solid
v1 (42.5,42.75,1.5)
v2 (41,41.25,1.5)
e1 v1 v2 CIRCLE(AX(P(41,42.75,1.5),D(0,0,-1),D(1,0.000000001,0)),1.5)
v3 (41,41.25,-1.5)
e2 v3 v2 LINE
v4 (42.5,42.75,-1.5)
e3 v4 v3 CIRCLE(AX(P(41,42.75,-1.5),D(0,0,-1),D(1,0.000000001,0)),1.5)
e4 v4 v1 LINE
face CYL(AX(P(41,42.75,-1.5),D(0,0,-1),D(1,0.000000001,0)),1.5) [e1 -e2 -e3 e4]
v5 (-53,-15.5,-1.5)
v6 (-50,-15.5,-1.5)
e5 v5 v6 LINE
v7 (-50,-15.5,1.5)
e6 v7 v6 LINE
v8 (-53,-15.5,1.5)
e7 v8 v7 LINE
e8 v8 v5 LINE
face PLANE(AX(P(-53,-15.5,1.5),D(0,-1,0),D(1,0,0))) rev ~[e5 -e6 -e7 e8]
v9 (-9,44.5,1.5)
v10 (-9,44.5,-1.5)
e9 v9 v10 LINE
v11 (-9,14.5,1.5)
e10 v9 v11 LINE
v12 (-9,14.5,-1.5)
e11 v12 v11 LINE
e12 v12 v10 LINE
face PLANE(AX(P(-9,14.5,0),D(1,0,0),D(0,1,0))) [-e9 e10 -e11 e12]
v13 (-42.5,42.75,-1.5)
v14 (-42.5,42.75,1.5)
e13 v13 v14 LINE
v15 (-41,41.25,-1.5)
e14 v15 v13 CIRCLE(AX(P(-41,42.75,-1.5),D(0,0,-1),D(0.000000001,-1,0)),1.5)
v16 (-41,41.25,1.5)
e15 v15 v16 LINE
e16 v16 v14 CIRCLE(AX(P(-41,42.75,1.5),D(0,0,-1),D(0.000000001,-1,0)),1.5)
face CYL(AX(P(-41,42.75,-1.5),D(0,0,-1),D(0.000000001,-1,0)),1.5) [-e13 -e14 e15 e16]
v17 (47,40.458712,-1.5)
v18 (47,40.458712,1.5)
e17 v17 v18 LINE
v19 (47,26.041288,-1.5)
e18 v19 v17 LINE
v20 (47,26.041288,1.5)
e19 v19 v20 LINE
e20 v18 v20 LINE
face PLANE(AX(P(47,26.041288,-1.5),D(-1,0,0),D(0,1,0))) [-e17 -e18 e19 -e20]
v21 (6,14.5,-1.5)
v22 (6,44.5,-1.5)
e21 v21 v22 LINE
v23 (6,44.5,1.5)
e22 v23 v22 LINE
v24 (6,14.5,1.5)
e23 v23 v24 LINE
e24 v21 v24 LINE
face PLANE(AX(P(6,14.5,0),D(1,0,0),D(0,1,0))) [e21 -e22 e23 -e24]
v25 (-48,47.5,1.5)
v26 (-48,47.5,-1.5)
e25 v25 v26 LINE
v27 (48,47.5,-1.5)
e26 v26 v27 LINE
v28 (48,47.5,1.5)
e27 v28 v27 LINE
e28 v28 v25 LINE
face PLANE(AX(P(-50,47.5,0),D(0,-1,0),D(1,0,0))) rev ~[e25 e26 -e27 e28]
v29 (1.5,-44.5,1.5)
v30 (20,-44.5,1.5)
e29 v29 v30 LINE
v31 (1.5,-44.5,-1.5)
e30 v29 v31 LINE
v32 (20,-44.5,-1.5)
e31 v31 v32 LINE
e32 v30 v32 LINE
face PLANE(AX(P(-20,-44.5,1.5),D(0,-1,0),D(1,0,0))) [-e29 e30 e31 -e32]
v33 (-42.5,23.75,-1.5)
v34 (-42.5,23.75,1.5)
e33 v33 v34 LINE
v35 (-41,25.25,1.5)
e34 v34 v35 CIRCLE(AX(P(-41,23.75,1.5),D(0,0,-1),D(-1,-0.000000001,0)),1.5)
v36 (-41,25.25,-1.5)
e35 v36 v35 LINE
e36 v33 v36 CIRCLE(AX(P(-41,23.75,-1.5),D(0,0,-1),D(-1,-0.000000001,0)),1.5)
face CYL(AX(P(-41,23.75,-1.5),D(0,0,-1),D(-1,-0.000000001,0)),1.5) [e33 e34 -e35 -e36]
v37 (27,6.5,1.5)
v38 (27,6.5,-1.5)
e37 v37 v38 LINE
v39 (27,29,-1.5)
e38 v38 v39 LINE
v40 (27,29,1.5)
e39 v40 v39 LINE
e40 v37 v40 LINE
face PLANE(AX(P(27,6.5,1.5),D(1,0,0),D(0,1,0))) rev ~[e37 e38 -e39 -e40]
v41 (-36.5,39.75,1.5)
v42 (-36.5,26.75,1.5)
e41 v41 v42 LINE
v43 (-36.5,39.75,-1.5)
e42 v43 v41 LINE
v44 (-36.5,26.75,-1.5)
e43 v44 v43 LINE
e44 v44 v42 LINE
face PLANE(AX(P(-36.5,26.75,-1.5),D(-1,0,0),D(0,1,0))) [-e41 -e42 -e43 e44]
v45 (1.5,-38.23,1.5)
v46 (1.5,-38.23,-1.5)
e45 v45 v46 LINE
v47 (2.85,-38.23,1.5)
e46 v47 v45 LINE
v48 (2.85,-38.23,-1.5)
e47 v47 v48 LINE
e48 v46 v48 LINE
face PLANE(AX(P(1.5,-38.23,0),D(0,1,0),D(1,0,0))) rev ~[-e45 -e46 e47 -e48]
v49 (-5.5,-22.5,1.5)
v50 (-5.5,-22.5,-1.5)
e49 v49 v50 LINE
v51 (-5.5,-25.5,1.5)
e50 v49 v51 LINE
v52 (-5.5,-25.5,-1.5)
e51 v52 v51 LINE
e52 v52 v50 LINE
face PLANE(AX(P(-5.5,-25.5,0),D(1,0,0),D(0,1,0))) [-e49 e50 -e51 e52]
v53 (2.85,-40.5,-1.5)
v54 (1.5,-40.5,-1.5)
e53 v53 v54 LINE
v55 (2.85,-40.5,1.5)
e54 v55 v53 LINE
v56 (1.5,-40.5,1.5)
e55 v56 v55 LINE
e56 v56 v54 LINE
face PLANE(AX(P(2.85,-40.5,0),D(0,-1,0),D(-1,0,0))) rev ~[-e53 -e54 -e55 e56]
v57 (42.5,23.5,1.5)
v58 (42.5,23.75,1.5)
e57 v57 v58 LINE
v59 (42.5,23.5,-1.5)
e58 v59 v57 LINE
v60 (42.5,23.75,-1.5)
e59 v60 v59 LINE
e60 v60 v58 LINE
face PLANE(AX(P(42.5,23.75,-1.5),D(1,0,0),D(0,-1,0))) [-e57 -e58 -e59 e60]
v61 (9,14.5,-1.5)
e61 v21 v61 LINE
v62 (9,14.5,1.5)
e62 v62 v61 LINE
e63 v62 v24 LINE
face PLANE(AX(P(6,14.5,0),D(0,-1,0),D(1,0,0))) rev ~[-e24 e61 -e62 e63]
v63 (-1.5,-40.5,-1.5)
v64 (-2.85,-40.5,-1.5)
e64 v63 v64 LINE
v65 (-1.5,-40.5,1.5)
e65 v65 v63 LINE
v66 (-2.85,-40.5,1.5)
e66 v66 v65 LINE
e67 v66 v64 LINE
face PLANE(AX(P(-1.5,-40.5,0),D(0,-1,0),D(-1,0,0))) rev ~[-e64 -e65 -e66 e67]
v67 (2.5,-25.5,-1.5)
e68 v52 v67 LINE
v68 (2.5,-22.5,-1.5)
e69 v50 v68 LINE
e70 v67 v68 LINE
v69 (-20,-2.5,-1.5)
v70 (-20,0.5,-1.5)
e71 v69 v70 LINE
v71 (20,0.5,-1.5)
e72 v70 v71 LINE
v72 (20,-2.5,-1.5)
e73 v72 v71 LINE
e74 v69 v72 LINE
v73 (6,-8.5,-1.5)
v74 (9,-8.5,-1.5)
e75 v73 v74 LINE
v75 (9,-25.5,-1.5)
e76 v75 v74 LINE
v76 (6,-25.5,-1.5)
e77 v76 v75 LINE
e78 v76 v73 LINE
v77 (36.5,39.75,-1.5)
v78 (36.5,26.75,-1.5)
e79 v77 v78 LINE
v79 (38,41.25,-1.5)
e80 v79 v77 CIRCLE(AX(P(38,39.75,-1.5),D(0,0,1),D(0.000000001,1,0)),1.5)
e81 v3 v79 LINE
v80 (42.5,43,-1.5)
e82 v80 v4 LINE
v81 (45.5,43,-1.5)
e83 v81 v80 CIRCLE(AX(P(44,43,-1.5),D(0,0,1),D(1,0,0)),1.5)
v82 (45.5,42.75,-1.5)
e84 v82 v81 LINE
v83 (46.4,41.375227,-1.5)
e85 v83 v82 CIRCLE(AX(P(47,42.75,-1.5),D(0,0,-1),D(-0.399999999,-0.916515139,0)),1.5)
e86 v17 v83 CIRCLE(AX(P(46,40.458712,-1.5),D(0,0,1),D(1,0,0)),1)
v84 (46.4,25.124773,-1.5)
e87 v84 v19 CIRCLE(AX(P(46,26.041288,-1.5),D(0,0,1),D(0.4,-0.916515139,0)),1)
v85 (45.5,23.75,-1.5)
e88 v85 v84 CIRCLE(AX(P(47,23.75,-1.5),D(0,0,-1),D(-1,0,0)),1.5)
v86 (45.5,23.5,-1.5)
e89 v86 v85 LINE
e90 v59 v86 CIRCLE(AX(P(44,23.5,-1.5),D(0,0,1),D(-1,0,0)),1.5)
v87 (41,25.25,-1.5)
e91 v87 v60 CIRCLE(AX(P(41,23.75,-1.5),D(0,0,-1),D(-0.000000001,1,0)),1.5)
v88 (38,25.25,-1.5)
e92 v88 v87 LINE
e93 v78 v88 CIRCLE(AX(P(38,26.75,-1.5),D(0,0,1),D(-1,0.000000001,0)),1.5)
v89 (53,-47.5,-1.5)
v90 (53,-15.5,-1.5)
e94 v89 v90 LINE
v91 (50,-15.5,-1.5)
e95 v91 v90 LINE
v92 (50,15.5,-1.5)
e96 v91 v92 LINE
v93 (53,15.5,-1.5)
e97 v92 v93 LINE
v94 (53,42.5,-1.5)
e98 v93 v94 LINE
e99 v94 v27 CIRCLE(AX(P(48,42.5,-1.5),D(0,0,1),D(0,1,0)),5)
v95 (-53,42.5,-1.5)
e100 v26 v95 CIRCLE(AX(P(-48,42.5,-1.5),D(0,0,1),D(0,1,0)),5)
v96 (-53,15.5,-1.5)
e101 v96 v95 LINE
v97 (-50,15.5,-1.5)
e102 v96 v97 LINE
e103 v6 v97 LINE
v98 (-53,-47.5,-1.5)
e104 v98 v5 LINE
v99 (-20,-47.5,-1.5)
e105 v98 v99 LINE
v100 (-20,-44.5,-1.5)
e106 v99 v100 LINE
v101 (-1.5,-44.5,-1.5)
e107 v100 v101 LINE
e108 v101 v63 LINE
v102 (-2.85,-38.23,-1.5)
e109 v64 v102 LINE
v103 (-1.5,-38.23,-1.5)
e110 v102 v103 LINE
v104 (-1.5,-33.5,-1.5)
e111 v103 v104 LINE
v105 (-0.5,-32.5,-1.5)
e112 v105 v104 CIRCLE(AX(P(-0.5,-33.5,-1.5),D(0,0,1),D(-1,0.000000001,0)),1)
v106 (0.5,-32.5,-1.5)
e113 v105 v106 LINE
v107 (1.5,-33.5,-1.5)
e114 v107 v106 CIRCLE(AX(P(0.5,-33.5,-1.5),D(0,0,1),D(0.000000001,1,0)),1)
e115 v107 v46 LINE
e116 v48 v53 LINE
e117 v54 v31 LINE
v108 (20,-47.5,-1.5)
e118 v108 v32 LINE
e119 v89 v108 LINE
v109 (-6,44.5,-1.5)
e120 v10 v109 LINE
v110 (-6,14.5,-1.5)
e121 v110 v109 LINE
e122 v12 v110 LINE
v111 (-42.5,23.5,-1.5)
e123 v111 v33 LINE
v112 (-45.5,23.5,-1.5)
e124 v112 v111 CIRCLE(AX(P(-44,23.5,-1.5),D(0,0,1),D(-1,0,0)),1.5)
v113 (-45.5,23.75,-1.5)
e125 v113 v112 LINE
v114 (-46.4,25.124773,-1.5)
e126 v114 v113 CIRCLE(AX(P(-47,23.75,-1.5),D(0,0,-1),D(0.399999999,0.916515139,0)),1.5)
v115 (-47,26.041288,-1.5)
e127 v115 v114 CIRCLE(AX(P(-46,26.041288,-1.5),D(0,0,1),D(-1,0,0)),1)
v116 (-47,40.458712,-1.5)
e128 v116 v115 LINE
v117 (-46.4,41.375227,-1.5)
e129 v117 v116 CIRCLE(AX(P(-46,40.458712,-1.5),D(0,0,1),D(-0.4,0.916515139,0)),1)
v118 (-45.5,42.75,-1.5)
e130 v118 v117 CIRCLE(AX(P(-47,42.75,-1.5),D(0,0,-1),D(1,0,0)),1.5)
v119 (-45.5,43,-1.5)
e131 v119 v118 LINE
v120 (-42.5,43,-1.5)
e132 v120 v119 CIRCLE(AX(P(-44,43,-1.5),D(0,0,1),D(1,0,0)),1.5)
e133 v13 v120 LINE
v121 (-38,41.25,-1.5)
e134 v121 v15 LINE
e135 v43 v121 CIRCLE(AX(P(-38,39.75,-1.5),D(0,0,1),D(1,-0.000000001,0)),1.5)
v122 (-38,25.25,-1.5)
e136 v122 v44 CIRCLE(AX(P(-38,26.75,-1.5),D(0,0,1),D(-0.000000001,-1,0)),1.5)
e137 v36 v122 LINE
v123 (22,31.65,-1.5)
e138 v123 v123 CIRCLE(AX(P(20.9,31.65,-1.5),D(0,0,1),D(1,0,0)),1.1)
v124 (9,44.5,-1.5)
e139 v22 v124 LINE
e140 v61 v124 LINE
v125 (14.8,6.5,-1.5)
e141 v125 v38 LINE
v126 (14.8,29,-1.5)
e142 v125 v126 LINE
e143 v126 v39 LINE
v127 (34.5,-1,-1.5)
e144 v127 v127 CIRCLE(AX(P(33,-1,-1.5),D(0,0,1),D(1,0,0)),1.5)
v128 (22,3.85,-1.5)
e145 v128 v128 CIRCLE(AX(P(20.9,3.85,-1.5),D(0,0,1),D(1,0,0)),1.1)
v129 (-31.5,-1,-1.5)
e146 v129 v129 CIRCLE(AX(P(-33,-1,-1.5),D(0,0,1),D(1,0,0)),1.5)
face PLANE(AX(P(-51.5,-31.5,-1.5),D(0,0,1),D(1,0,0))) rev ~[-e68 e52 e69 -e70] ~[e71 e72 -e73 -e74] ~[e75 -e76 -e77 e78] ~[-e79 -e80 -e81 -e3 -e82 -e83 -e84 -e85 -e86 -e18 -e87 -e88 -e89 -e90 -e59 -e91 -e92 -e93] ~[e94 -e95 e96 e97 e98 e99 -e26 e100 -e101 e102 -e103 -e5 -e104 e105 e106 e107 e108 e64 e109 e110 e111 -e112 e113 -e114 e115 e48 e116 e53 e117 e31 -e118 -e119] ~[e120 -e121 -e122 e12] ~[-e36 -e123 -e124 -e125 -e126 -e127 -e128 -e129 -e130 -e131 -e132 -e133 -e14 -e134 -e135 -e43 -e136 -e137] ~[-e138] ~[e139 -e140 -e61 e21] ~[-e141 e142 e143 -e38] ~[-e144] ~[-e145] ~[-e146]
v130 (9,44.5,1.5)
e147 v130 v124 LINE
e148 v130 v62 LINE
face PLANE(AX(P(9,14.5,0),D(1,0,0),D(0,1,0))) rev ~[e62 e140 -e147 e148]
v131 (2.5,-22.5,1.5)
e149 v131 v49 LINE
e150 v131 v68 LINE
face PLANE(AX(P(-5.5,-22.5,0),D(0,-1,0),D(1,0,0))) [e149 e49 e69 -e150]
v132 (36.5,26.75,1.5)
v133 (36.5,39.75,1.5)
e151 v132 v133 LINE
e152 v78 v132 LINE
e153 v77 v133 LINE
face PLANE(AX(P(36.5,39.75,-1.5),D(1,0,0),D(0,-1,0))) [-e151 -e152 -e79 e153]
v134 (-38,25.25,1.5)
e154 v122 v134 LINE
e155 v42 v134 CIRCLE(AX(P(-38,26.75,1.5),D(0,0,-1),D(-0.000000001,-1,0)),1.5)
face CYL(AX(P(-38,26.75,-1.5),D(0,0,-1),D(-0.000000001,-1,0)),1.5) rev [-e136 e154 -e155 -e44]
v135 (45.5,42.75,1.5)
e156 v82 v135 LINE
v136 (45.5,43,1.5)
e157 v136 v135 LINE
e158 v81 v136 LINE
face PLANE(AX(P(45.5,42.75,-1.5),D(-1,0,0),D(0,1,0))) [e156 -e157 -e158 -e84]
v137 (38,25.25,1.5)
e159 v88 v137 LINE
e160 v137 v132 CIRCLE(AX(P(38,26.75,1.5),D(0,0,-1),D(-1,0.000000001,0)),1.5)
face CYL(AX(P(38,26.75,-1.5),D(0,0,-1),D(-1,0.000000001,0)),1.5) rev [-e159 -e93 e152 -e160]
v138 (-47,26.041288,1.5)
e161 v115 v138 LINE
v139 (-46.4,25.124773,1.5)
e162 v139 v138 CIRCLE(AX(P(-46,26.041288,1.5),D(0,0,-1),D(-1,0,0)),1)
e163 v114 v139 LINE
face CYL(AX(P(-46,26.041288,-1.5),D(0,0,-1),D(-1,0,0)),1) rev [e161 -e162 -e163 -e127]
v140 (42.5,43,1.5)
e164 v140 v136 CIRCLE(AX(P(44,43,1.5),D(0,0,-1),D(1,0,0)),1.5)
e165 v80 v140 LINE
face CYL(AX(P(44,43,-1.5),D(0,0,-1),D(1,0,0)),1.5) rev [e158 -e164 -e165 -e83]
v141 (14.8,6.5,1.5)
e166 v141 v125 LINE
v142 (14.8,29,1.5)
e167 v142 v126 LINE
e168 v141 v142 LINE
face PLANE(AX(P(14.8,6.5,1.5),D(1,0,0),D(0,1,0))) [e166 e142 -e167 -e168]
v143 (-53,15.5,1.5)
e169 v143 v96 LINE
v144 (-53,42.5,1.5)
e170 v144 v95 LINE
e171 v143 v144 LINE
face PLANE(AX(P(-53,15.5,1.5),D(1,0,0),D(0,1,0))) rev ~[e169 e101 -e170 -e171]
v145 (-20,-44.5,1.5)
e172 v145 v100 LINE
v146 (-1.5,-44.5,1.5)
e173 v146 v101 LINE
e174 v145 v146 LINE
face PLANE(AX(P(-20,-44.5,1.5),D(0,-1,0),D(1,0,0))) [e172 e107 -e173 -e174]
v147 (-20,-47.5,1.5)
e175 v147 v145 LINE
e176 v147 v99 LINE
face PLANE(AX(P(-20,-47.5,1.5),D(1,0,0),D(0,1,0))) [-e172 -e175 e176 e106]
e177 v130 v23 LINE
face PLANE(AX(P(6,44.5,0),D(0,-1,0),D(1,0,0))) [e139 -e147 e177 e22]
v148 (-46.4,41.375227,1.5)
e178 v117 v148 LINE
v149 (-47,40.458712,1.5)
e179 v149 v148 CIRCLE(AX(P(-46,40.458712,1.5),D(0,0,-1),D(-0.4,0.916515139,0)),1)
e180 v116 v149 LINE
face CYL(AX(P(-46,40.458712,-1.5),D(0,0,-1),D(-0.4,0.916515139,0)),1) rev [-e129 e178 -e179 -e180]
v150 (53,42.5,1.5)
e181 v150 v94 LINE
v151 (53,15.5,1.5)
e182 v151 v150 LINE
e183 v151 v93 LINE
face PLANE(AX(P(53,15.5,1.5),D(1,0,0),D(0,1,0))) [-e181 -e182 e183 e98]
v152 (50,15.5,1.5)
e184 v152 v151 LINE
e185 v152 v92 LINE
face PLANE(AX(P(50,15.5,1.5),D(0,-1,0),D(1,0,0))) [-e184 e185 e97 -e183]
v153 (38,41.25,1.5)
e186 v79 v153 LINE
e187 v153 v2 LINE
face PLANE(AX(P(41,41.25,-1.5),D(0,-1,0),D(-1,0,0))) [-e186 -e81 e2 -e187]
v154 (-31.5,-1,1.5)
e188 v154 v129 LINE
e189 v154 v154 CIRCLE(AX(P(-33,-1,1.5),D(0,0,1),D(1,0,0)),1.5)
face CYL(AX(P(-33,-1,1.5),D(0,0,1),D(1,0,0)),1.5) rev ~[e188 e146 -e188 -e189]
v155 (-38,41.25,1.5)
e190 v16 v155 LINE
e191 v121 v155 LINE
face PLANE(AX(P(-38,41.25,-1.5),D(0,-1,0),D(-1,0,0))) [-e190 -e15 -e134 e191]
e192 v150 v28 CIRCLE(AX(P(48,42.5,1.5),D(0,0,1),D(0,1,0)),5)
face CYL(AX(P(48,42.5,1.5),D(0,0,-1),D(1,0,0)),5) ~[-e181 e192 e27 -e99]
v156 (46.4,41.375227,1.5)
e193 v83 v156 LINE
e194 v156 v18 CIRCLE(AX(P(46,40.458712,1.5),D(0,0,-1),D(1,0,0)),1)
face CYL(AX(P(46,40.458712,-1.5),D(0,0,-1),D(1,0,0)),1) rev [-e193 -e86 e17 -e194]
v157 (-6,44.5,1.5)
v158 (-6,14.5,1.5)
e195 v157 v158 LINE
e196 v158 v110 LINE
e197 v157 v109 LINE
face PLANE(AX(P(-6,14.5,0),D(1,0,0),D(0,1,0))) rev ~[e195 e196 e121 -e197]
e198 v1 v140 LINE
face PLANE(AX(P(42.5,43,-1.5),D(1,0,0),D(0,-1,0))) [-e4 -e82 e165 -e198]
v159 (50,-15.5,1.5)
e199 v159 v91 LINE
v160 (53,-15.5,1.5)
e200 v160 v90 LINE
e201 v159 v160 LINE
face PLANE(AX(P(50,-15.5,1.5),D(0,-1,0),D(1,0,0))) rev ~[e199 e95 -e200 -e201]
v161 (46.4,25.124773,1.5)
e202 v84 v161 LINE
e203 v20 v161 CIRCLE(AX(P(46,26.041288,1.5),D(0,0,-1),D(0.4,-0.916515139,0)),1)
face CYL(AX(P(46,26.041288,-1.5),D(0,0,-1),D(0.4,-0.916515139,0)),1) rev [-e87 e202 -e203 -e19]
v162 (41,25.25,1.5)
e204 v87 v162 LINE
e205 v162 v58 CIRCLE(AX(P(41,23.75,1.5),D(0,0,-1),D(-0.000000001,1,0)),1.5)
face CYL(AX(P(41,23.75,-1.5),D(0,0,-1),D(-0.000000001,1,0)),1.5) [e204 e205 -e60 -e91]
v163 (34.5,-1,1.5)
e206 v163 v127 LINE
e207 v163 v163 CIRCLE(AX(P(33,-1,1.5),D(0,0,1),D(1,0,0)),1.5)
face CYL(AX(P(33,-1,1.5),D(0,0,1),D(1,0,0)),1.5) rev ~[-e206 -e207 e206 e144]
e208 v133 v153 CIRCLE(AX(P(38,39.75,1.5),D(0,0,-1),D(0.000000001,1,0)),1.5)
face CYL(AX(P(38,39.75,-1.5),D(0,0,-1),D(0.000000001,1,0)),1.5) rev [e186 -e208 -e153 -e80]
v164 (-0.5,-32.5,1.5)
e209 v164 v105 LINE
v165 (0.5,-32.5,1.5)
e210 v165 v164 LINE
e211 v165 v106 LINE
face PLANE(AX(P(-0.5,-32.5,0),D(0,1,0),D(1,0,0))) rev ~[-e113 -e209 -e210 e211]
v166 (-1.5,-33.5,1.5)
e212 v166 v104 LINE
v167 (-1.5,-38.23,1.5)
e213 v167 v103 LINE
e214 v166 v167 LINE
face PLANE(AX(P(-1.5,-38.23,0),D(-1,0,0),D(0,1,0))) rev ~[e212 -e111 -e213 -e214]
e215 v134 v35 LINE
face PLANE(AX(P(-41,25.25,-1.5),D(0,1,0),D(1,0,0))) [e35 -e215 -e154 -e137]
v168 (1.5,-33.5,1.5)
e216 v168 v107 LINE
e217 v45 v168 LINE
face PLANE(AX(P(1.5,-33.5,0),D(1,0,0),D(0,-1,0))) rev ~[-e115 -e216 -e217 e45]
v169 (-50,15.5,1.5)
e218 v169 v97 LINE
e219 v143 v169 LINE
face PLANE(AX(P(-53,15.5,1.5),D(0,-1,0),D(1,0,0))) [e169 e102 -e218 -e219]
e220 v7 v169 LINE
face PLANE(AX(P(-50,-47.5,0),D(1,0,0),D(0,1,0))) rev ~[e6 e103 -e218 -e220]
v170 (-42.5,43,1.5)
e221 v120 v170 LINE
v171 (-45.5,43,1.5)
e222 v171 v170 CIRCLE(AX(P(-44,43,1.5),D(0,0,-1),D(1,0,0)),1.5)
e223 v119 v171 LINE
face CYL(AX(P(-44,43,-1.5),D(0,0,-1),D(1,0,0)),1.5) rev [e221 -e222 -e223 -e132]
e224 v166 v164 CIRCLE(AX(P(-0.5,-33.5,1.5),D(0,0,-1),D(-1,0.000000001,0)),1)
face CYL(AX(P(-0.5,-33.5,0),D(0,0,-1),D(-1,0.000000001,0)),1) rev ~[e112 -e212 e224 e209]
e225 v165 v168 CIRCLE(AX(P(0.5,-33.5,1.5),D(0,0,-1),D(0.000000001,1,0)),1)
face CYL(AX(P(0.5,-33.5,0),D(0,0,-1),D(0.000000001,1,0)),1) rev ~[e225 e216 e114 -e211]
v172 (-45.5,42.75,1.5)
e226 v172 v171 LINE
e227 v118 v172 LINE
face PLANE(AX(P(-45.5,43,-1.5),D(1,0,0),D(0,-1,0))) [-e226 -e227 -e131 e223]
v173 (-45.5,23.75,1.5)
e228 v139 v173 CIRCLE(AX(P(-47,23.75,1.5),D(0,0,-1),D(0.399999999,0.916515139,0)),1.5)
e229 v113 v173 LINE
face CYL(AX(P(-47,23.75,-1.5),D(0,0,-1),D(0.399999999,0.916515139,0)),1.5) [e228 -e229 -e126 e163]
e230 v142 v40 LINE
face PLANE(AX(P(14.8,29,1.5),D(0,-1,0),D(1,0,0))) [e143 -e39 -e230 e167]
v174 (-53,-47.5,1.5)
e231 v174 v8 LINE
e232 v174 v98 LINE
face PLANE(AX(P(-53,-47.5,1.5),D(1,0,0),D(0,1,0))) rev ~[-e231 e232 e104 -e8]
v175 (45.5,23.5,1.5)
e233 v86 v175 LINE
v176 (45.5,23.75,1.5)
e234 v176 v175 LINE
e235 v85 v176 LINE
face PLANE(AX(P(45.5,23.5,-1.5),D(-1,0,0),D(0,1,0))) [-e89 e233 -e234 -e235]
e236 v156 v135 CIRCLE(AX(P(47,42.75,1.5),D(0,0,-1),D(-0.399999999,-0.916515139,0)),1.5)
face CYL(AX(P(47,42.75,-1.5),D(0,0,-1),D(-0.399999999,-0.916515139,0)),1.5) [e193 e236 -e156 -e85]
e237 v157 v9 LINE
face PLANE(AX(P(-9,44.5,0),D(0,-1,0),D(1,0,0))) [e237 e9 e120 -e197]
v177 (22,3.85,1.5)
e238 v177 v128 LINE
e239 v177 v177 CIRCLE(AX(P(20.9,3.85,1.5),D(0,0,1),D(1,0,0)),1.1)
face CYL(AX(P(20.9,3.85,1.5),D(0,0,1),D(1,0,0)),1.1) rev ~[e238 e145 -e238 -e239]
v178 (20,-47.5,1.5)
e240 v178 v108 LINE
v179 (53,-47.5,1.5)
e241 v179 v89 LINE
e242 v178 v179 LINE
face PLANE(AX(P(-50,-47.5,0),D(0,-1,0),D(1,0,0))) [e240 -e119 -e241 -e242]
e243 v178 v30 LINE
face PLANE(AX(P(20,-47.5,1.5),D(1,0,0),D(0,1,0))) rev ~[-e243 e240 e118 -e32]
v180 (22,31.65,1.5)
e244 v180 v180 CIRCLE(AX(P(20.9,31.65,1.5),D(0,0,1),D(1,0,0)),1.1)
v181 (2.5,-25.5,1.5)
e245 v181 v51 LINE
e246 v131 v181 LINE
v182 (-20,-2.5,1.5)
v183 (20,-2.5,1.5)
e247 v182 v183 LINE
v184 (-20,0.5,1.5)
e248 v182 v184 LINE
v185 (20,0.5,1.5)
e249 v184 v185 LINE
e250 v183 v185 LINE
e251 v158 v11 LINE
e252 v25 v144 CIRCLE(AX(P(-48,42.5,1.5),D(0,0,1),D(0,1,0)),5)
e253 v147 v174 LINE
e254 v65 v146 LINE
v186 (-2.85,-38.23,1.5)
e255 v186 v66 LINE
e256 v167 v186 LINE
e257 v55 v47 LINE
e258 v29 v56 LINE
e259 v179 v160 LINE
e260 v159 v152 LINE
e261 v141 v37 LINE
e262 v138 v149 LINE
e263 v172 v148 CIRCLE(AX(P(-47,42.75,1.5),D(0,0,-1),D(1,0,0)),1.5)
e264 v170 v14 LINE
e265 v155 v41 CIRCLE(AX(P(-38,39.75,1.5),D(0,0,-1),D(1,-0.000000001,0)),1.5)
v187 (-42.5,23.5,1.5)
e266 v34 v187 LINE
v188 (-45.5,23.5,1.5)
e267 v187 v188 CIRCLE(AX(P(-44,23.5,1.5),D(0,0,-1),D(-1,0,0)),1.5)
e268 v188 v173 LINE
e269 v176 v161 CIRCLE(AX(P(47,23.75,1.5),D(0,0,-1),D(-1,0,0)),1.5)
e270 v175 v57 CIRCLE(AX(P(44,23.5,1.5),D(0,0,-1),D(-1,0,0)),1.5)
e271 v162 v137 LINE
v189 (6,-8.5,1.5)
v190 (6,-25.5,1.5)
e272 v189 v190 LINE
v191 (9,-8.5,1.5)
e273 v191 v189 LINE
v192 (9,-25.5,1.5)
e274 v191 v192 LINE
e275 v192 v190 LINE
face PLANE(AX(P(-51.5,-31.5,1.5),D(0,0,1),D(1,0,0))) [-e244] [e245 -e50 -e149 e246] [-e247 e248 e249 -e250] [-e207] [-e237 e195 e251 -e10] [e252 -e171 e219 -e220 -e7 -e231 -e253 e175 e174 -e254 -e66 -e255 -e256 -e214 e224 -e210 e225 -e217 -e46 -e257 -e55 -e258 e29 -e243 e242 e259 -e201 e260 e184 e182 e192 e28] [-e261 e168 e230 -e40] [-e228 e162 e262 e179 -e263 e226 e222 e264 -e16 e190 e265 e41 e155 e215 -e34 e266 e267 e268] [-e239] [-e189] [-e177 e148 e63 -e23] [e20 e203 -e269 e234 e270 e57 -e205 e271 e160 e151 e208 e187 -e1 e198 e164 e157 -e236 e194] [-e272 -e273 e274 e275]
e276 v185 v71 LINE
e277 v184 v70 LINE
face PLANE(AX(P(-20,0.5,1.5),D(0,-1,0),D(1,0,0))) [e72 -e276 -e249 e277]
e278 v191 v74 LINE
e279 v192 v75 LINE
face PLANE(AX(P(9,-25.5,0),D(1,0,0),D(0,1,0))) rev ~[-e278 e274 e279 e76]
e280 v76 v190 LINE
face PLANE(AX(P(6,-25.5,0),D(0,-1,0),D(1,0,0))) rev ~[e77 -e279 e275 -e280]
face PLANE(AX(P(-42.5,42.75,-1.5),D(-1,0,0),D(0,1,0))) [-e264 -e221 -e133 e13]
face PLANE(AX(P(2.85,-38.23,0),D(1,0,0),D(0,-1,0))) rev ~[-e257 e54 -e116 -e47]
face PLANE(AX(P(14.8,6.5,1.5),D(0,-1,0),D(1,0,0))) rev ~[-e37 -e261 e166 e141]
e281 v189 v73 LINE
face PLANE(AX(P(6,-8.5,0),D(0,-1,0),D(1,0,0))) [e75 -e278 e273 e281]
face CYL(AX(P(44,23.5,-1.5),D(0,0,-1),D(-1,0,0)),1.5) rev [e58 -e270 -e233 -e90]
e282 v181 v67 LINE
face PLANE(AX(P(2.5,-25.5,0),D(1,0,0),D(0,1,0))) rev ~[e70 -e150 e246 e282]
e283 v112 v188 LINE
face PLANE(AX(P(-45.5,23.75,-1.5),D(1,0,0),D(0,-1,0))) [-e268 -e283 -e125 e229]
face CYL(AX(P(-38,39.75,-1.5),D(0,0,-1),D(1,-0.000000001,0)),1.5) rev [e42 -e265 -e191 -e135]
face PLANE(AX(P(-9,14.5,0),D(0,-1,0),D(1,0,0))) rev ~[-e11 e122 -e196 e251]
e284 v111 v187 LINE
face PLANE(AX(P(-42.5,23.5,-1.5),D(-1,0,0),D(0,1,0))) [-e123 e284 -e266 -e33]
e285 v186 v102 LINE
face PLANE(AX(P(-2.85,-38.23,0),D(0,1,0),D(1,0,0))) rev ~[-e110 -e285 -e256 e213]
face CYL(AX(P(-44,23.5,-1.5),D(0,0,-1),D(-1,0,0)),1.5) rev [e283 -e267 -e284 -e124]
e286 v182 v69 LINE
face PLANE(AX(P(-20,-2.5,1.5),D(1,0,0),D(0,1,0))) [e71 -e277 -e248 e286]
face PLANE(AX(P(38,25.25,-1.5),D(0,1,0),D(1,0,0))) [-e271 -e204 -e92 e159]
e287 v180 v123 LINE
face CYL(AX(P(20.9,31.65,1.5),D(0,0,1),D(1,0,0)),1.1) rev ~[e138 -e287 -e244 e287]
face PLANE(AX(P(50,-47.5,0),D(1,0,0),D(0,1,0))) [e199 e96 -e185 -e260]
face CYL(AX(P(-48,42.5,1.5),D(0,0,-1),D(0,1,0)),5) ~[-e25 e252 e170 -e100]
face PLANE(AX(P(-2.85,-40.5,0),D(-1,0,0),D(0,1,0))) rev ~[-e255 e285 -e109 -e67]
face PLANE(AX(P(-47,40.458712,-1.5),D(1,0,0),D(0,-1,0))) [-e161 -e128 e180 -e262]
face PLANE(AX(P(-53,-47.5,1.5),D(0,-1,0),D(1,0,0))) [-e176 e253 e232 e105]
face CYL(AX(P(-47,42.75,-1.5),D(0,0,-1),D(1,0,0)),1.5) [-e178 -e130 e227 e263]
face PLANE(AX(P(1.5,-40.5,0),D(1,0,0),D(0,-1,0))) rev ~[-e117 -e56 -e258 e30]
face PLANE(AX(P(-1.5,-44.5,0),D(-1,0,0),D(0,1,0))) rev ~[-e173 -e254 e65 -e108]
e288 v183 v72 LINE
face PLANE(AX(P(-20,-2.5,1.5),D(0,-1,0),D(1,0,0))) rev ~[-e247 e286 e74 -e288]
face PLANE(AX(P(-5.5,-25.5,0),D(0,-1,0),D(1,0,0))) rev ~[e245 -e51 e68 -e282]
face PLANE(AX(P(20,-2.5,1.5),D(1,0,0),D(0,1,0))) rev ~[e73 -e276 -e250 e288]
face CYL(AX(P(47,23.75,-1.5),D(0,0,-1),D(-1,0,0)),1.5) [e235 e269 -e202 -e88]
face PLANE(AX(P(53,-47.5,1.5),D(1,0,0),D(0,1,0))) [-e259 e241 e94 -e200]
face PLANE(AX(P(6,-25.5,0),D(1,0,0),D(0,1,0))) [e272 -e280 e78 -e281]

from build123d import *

# Parameters (mm, degrees)
ESBO_O1_W                = 100
ESBO_O1_H                = 95
RESSALTO_EXTRUS_O1_DEPTH = 1.5
ESBO_O2_R                = 1.5
ESBO_O2_W                = 40
ESBO_O2_H                = 3
CORTE_EXTRUS_O1_DEPTH    = 4
ESBO_O3_W                = 3
ESBO_O3_H                = 32
RESSALTO_EXTRUS_O2_DEPTH = 3
CUT_EXTRUDE1_DEPTH       = 1
CUT_EXTRUDE1_DEPTH_BACK  = 4
CUT_EXTRUDE4_DEPTH       = 2.5
CUT_EXTRUDE4_DEPTH_BACK  = 2.5
FILLET1_R                = 5
SKETCH3_W                = 3
SKETCH3_H                = 30
SKETCH3_H_2              = 17
SKETCH3_W_2              = 8
SKETCH3_H_3              = 3
CUT_EXTRUDE5_DEPTH       = 2.5
CUT_EXTRUDE5_DEPTH_BACK  = 2.5
SKETCH4_R                = 1.1
SKETCH4_W                = 12.2
SKETCH4_H                = 22.5
CUT_EXTRUDE6_DEPTH       = 1
CUT_EXTRUDE6_DEPTH_BACK  = 4


with BuildPart() as part:
    # Esboço1 → Ressalto-extrusão1 (new body, symmetric)
    with BuildSketch(Plane.XY):
        Rectangle(ESBO_O1_W, ESBO_O1_H)
    extrude(amount=RESSALTO_EXTRUS_O1_DEPTH, both=True)

    # Esboço2 → Corte-extrusão1 (cut, through all)
    with BuildSketch(Plane.XY.offset(1.5)):
        with Locations((-33, -1)):
            Circle(ESBO_O2_R)
        with Locations((33, -1)):
            Circle(ESBO_O2_R)
        with Locations((0, -46)):
            Rectangle(ESBO_O2_W, ESBO_O2_H)
        with Locations((0, -1)):
            Rectangle(ESBO_O2_W, ESBO_O2_H)
    extrude(amount=-CORTE_EXTRUS_O1_DEPTH, mode=Mode.SUBTRACT)

    # Esboço3 → Ressalto-extrusão2 (add, through all)
    with BuildSketch(Plane.XY.offset(1.5)):
        with Locations((-51.5, -31.5)):
            Rectangle(ESBO_O3_W, ESBO_O3_H)
        with Locations((51.5, -31.5)):
            Rectangle(ESBO_O3_W, ESBO_O3_H)
        with Locations((-51.5, 31.5)):
            Rectangle(ESBO_O3_W, ESBO_O3_H)
        with Locations((51.5, 31.5)):
            Rectangle(ESBO_O3_W, ESBO_O3_H)
    extrude(amount=-RESSALTO_EXTRUS_O2_DEPTH)

    # Sketch1 → Cut-Extrude1 (cut, two sides)
    with BuildSketch(Plane(origin=(0, 0, -1.5), x_dir=(-1, 0, 0), z_dir=(0, 0, -1))) as cut_extrude1_sk:
        with BuildLine():
            Line((-36.5, 39.75), (-36.5, 26.75))
            ThreePointArc((-36.5, 26.75), (-36.939339828, 25.689339828), (-38, 25.25))
            Line((-38, 25.25), (-41, 25.25))
            ThreePointArc((-41, 25.25), (-42.060660172, 24.810660172), (-42.5, 23.75))
            Line((-42.5, 23.75), (-42.5, 23.5))
            ThreePointArc((-42.5, 23.5), (-44, 22), (-45.5, 23.5))
            Line((-45.5, 23.5), (-45.5, 23.75))
            ThreePointArc((-45.5, 23.75), (-45.74500996, 24.571583836), (-46.4, 25.124772708))
            ThreePointArc((-46.4, 25.124772708), (-46.836660027, 25.49356529), (-47, 26.041287847))
            Line((-47, 26.041287847), (-47, 40.458712153))
            ThreePointArc((-47, 40.458712153), (-46.836660027, 41.00643471), (-46.4, 41.375227292))
            ThreePointArc((-46.4, 41.375227292), (-45.74500996, 41.928416164), (-45.5, 42.75))
            Line((-45.5, 42.75), (-45.5, 43))
            ThreePointArc((-45.5, 43), (-44, 44.5), (-42.5, 43))
            Line((-42.5, 43), (-42.5, 42.75))
            ThreePointArc((-42.5, 42.75), (-42.060660172, 41.689339828), (-41, 41.25))
            Line((-41, 41.25), (-38, 41.25))
            ThreePointArc((-38, 41.25), (-36.939339828, 40.810660172), (-36.5, 39.75))
        make_face()
        with BuildLine():
            Line((47, 40.458712153), (47, 26.041287847))
            ThreePointArc((47, 26.041287847), (46.836660027, 25.49356529), (46.4, 25.124772708))
            ThreePointArc((46.4, 25.124772708), (45.74500996, 24.571583836), (45.5, 23.75))
            Line((45.5, 23.75), (45.5, 23.5))
            ThreePointArc((45.5, 23.5), (44, 22), (42.5, 23.5))
            Line((42.5, 23.5), (42.5, 23.75))
            ThreePointArc((42.5, 23.75), (42.060660172, 24.810660172), (41, 25.25))
            Line((41, 25.25), (38, 25.25))
            ThreePointArc((38, 25.25), (36.939339828, 25.689339828), (36.5, 26.75))
            Line((36.5, 26.75), (36.5, 39.75))
            ThreePointArc((36.5, 39.75), (36.939339828, 40.810660172), (38, 41.25))
            Line((38, 41.25), (41, 41.25))
            ThreePointArc((41, 41.25), (42.060660172, 41.689339828), (42.5, 42.75))
            Line((42.5, 42.75), (42.5, 43))
            ThreePointArc((42.5, 43), (44, 44.5), (45.5, 43))
            Line((45.5, 43), (45.5, 42.75))
            ThreePointArc((45.5, 42.75), (45.74500996, 41.928416164), (46.4, 41.375227292))
            ThreePointArc((46.4, 41.375227292), (46.836660027, 41.00643471), (47, 40.458712153))
        make_face()
    extrude(amount=CUT_EXTRUDE1_DEPTH, mode=Mode.SUBTRACT)
    extrude(cut_extrude1_sk.sketch, amount=-CUT_EXTRUDE1_DEPTH_BACK, mode=Mode.SUBTRACT)

    # Sketch2 → Cut-Extrude4 (cut, two sides)
    with BuildSketch(Plane.XY) as cut_extrude4_sk:
        with BuildLine():
            Line((-0.5, -32.5), (0.5, -32.5))
            ThreePointArc((0.5, -32.5), (1.207106781, -32.792893219), (1.5, -33.5))
            Line((1.5, -33.5), (1.5, -38.23))
            Line((1.5, -38.23), (2.85, -38.23))
            Line((2.85, -38.23), (2.85, -40.5))
            Line((2.85, -40.5), (1.5, -40.5))
            Line((1.5, -40.5), (1.5, -44.5))
            Line((1.5, -44.5), (-1.5, -44.5))
            Line((-1.5, -44.5), (-1.5, -40.5))
            Line((-1.5, -40.5), (-2.85, -40.5))
            Line((-2.85, -40.5), (-2.85, -38.23))
            Line((-2.85, -38.23), (-1.5, -38.23))
            Line((-1.5, -38.23), (-1.5, -33.5))
            ThreePointArc((-1.5, -33.5), (-1.207106781, -32.792893219), (-0.5, -32.5))
        make_face()
    extrude(amount=CUT_EXTRUDE4_DEPTH, mode=Mode.SUBTRACT)
    extrude(cut_extrude4_sk.sketch, amount=-CUT_EXTRUDE4_DEPTH_BACK, mode=Mode.SUBTRACT)

    # Fillet1
    fillet1_edges = [part.edges().sort_by_distance(p)[0] for p in [
        (53, 47.5, 0),
        (-53, 47.5, 0),
    ]]
    fillet(fillet1_edges, radius=FILLET1_R)

    # Sketch3 → Cut-Extrude5 (cut, two sides)
    with BuildSketch(Plane.XY) as cut_extrude5_sk:
        with Locations((7.5, 29.5)):
            Rectangle(SKETCH3_W, SKETCH3_H)
        with Locations((7.5, -17)):
            Rectangle(SKETCH3_W, SKETCH3_H_2)
        with Locations((-7.5, 29.5)):
            Rectangle(SKETCH3_W, SKETCH3_H)
        with Locations((-1.5, -24)):
            Rectangle(SKETCH3_W_2, SKETCH3_H_3)
    extrude(amount=CUT_EXTRUDE5_DEPTH, mode=Mode.SUBTRACT)
    extrude(cut_extrude5_sk.sketch, amount=-CUT_EXTRUDE5_DEPTH_BACK, mode=Mode.SUBTRACT)

    # Sketch4 → Cut-Extrude6 (cut, two sides)
    with BuildSketch(Plane.XY.offset(1.5)) as cut_extrude6_sk:
        with Locations((20.9, 31.65)):
            Circle(SKETCH4_R)
        with Locations((20.9, 3.85)):
            Circle(SKETCH4_R)
        with Locations((20.9, 17.75)):
            Rectangle(SKETCH4_W, SKETCH4_H)
    extrude(amount=CUT_EXTRUDE6_DEPTH, mode=Mode.SUBTRACT)
    extrude(cut_extrude6_sk.sketch, amount=-CUT_EXTRUDE6_DEPTH_BACK, mode=Mode.SUBTRACT)


solid = part.part
